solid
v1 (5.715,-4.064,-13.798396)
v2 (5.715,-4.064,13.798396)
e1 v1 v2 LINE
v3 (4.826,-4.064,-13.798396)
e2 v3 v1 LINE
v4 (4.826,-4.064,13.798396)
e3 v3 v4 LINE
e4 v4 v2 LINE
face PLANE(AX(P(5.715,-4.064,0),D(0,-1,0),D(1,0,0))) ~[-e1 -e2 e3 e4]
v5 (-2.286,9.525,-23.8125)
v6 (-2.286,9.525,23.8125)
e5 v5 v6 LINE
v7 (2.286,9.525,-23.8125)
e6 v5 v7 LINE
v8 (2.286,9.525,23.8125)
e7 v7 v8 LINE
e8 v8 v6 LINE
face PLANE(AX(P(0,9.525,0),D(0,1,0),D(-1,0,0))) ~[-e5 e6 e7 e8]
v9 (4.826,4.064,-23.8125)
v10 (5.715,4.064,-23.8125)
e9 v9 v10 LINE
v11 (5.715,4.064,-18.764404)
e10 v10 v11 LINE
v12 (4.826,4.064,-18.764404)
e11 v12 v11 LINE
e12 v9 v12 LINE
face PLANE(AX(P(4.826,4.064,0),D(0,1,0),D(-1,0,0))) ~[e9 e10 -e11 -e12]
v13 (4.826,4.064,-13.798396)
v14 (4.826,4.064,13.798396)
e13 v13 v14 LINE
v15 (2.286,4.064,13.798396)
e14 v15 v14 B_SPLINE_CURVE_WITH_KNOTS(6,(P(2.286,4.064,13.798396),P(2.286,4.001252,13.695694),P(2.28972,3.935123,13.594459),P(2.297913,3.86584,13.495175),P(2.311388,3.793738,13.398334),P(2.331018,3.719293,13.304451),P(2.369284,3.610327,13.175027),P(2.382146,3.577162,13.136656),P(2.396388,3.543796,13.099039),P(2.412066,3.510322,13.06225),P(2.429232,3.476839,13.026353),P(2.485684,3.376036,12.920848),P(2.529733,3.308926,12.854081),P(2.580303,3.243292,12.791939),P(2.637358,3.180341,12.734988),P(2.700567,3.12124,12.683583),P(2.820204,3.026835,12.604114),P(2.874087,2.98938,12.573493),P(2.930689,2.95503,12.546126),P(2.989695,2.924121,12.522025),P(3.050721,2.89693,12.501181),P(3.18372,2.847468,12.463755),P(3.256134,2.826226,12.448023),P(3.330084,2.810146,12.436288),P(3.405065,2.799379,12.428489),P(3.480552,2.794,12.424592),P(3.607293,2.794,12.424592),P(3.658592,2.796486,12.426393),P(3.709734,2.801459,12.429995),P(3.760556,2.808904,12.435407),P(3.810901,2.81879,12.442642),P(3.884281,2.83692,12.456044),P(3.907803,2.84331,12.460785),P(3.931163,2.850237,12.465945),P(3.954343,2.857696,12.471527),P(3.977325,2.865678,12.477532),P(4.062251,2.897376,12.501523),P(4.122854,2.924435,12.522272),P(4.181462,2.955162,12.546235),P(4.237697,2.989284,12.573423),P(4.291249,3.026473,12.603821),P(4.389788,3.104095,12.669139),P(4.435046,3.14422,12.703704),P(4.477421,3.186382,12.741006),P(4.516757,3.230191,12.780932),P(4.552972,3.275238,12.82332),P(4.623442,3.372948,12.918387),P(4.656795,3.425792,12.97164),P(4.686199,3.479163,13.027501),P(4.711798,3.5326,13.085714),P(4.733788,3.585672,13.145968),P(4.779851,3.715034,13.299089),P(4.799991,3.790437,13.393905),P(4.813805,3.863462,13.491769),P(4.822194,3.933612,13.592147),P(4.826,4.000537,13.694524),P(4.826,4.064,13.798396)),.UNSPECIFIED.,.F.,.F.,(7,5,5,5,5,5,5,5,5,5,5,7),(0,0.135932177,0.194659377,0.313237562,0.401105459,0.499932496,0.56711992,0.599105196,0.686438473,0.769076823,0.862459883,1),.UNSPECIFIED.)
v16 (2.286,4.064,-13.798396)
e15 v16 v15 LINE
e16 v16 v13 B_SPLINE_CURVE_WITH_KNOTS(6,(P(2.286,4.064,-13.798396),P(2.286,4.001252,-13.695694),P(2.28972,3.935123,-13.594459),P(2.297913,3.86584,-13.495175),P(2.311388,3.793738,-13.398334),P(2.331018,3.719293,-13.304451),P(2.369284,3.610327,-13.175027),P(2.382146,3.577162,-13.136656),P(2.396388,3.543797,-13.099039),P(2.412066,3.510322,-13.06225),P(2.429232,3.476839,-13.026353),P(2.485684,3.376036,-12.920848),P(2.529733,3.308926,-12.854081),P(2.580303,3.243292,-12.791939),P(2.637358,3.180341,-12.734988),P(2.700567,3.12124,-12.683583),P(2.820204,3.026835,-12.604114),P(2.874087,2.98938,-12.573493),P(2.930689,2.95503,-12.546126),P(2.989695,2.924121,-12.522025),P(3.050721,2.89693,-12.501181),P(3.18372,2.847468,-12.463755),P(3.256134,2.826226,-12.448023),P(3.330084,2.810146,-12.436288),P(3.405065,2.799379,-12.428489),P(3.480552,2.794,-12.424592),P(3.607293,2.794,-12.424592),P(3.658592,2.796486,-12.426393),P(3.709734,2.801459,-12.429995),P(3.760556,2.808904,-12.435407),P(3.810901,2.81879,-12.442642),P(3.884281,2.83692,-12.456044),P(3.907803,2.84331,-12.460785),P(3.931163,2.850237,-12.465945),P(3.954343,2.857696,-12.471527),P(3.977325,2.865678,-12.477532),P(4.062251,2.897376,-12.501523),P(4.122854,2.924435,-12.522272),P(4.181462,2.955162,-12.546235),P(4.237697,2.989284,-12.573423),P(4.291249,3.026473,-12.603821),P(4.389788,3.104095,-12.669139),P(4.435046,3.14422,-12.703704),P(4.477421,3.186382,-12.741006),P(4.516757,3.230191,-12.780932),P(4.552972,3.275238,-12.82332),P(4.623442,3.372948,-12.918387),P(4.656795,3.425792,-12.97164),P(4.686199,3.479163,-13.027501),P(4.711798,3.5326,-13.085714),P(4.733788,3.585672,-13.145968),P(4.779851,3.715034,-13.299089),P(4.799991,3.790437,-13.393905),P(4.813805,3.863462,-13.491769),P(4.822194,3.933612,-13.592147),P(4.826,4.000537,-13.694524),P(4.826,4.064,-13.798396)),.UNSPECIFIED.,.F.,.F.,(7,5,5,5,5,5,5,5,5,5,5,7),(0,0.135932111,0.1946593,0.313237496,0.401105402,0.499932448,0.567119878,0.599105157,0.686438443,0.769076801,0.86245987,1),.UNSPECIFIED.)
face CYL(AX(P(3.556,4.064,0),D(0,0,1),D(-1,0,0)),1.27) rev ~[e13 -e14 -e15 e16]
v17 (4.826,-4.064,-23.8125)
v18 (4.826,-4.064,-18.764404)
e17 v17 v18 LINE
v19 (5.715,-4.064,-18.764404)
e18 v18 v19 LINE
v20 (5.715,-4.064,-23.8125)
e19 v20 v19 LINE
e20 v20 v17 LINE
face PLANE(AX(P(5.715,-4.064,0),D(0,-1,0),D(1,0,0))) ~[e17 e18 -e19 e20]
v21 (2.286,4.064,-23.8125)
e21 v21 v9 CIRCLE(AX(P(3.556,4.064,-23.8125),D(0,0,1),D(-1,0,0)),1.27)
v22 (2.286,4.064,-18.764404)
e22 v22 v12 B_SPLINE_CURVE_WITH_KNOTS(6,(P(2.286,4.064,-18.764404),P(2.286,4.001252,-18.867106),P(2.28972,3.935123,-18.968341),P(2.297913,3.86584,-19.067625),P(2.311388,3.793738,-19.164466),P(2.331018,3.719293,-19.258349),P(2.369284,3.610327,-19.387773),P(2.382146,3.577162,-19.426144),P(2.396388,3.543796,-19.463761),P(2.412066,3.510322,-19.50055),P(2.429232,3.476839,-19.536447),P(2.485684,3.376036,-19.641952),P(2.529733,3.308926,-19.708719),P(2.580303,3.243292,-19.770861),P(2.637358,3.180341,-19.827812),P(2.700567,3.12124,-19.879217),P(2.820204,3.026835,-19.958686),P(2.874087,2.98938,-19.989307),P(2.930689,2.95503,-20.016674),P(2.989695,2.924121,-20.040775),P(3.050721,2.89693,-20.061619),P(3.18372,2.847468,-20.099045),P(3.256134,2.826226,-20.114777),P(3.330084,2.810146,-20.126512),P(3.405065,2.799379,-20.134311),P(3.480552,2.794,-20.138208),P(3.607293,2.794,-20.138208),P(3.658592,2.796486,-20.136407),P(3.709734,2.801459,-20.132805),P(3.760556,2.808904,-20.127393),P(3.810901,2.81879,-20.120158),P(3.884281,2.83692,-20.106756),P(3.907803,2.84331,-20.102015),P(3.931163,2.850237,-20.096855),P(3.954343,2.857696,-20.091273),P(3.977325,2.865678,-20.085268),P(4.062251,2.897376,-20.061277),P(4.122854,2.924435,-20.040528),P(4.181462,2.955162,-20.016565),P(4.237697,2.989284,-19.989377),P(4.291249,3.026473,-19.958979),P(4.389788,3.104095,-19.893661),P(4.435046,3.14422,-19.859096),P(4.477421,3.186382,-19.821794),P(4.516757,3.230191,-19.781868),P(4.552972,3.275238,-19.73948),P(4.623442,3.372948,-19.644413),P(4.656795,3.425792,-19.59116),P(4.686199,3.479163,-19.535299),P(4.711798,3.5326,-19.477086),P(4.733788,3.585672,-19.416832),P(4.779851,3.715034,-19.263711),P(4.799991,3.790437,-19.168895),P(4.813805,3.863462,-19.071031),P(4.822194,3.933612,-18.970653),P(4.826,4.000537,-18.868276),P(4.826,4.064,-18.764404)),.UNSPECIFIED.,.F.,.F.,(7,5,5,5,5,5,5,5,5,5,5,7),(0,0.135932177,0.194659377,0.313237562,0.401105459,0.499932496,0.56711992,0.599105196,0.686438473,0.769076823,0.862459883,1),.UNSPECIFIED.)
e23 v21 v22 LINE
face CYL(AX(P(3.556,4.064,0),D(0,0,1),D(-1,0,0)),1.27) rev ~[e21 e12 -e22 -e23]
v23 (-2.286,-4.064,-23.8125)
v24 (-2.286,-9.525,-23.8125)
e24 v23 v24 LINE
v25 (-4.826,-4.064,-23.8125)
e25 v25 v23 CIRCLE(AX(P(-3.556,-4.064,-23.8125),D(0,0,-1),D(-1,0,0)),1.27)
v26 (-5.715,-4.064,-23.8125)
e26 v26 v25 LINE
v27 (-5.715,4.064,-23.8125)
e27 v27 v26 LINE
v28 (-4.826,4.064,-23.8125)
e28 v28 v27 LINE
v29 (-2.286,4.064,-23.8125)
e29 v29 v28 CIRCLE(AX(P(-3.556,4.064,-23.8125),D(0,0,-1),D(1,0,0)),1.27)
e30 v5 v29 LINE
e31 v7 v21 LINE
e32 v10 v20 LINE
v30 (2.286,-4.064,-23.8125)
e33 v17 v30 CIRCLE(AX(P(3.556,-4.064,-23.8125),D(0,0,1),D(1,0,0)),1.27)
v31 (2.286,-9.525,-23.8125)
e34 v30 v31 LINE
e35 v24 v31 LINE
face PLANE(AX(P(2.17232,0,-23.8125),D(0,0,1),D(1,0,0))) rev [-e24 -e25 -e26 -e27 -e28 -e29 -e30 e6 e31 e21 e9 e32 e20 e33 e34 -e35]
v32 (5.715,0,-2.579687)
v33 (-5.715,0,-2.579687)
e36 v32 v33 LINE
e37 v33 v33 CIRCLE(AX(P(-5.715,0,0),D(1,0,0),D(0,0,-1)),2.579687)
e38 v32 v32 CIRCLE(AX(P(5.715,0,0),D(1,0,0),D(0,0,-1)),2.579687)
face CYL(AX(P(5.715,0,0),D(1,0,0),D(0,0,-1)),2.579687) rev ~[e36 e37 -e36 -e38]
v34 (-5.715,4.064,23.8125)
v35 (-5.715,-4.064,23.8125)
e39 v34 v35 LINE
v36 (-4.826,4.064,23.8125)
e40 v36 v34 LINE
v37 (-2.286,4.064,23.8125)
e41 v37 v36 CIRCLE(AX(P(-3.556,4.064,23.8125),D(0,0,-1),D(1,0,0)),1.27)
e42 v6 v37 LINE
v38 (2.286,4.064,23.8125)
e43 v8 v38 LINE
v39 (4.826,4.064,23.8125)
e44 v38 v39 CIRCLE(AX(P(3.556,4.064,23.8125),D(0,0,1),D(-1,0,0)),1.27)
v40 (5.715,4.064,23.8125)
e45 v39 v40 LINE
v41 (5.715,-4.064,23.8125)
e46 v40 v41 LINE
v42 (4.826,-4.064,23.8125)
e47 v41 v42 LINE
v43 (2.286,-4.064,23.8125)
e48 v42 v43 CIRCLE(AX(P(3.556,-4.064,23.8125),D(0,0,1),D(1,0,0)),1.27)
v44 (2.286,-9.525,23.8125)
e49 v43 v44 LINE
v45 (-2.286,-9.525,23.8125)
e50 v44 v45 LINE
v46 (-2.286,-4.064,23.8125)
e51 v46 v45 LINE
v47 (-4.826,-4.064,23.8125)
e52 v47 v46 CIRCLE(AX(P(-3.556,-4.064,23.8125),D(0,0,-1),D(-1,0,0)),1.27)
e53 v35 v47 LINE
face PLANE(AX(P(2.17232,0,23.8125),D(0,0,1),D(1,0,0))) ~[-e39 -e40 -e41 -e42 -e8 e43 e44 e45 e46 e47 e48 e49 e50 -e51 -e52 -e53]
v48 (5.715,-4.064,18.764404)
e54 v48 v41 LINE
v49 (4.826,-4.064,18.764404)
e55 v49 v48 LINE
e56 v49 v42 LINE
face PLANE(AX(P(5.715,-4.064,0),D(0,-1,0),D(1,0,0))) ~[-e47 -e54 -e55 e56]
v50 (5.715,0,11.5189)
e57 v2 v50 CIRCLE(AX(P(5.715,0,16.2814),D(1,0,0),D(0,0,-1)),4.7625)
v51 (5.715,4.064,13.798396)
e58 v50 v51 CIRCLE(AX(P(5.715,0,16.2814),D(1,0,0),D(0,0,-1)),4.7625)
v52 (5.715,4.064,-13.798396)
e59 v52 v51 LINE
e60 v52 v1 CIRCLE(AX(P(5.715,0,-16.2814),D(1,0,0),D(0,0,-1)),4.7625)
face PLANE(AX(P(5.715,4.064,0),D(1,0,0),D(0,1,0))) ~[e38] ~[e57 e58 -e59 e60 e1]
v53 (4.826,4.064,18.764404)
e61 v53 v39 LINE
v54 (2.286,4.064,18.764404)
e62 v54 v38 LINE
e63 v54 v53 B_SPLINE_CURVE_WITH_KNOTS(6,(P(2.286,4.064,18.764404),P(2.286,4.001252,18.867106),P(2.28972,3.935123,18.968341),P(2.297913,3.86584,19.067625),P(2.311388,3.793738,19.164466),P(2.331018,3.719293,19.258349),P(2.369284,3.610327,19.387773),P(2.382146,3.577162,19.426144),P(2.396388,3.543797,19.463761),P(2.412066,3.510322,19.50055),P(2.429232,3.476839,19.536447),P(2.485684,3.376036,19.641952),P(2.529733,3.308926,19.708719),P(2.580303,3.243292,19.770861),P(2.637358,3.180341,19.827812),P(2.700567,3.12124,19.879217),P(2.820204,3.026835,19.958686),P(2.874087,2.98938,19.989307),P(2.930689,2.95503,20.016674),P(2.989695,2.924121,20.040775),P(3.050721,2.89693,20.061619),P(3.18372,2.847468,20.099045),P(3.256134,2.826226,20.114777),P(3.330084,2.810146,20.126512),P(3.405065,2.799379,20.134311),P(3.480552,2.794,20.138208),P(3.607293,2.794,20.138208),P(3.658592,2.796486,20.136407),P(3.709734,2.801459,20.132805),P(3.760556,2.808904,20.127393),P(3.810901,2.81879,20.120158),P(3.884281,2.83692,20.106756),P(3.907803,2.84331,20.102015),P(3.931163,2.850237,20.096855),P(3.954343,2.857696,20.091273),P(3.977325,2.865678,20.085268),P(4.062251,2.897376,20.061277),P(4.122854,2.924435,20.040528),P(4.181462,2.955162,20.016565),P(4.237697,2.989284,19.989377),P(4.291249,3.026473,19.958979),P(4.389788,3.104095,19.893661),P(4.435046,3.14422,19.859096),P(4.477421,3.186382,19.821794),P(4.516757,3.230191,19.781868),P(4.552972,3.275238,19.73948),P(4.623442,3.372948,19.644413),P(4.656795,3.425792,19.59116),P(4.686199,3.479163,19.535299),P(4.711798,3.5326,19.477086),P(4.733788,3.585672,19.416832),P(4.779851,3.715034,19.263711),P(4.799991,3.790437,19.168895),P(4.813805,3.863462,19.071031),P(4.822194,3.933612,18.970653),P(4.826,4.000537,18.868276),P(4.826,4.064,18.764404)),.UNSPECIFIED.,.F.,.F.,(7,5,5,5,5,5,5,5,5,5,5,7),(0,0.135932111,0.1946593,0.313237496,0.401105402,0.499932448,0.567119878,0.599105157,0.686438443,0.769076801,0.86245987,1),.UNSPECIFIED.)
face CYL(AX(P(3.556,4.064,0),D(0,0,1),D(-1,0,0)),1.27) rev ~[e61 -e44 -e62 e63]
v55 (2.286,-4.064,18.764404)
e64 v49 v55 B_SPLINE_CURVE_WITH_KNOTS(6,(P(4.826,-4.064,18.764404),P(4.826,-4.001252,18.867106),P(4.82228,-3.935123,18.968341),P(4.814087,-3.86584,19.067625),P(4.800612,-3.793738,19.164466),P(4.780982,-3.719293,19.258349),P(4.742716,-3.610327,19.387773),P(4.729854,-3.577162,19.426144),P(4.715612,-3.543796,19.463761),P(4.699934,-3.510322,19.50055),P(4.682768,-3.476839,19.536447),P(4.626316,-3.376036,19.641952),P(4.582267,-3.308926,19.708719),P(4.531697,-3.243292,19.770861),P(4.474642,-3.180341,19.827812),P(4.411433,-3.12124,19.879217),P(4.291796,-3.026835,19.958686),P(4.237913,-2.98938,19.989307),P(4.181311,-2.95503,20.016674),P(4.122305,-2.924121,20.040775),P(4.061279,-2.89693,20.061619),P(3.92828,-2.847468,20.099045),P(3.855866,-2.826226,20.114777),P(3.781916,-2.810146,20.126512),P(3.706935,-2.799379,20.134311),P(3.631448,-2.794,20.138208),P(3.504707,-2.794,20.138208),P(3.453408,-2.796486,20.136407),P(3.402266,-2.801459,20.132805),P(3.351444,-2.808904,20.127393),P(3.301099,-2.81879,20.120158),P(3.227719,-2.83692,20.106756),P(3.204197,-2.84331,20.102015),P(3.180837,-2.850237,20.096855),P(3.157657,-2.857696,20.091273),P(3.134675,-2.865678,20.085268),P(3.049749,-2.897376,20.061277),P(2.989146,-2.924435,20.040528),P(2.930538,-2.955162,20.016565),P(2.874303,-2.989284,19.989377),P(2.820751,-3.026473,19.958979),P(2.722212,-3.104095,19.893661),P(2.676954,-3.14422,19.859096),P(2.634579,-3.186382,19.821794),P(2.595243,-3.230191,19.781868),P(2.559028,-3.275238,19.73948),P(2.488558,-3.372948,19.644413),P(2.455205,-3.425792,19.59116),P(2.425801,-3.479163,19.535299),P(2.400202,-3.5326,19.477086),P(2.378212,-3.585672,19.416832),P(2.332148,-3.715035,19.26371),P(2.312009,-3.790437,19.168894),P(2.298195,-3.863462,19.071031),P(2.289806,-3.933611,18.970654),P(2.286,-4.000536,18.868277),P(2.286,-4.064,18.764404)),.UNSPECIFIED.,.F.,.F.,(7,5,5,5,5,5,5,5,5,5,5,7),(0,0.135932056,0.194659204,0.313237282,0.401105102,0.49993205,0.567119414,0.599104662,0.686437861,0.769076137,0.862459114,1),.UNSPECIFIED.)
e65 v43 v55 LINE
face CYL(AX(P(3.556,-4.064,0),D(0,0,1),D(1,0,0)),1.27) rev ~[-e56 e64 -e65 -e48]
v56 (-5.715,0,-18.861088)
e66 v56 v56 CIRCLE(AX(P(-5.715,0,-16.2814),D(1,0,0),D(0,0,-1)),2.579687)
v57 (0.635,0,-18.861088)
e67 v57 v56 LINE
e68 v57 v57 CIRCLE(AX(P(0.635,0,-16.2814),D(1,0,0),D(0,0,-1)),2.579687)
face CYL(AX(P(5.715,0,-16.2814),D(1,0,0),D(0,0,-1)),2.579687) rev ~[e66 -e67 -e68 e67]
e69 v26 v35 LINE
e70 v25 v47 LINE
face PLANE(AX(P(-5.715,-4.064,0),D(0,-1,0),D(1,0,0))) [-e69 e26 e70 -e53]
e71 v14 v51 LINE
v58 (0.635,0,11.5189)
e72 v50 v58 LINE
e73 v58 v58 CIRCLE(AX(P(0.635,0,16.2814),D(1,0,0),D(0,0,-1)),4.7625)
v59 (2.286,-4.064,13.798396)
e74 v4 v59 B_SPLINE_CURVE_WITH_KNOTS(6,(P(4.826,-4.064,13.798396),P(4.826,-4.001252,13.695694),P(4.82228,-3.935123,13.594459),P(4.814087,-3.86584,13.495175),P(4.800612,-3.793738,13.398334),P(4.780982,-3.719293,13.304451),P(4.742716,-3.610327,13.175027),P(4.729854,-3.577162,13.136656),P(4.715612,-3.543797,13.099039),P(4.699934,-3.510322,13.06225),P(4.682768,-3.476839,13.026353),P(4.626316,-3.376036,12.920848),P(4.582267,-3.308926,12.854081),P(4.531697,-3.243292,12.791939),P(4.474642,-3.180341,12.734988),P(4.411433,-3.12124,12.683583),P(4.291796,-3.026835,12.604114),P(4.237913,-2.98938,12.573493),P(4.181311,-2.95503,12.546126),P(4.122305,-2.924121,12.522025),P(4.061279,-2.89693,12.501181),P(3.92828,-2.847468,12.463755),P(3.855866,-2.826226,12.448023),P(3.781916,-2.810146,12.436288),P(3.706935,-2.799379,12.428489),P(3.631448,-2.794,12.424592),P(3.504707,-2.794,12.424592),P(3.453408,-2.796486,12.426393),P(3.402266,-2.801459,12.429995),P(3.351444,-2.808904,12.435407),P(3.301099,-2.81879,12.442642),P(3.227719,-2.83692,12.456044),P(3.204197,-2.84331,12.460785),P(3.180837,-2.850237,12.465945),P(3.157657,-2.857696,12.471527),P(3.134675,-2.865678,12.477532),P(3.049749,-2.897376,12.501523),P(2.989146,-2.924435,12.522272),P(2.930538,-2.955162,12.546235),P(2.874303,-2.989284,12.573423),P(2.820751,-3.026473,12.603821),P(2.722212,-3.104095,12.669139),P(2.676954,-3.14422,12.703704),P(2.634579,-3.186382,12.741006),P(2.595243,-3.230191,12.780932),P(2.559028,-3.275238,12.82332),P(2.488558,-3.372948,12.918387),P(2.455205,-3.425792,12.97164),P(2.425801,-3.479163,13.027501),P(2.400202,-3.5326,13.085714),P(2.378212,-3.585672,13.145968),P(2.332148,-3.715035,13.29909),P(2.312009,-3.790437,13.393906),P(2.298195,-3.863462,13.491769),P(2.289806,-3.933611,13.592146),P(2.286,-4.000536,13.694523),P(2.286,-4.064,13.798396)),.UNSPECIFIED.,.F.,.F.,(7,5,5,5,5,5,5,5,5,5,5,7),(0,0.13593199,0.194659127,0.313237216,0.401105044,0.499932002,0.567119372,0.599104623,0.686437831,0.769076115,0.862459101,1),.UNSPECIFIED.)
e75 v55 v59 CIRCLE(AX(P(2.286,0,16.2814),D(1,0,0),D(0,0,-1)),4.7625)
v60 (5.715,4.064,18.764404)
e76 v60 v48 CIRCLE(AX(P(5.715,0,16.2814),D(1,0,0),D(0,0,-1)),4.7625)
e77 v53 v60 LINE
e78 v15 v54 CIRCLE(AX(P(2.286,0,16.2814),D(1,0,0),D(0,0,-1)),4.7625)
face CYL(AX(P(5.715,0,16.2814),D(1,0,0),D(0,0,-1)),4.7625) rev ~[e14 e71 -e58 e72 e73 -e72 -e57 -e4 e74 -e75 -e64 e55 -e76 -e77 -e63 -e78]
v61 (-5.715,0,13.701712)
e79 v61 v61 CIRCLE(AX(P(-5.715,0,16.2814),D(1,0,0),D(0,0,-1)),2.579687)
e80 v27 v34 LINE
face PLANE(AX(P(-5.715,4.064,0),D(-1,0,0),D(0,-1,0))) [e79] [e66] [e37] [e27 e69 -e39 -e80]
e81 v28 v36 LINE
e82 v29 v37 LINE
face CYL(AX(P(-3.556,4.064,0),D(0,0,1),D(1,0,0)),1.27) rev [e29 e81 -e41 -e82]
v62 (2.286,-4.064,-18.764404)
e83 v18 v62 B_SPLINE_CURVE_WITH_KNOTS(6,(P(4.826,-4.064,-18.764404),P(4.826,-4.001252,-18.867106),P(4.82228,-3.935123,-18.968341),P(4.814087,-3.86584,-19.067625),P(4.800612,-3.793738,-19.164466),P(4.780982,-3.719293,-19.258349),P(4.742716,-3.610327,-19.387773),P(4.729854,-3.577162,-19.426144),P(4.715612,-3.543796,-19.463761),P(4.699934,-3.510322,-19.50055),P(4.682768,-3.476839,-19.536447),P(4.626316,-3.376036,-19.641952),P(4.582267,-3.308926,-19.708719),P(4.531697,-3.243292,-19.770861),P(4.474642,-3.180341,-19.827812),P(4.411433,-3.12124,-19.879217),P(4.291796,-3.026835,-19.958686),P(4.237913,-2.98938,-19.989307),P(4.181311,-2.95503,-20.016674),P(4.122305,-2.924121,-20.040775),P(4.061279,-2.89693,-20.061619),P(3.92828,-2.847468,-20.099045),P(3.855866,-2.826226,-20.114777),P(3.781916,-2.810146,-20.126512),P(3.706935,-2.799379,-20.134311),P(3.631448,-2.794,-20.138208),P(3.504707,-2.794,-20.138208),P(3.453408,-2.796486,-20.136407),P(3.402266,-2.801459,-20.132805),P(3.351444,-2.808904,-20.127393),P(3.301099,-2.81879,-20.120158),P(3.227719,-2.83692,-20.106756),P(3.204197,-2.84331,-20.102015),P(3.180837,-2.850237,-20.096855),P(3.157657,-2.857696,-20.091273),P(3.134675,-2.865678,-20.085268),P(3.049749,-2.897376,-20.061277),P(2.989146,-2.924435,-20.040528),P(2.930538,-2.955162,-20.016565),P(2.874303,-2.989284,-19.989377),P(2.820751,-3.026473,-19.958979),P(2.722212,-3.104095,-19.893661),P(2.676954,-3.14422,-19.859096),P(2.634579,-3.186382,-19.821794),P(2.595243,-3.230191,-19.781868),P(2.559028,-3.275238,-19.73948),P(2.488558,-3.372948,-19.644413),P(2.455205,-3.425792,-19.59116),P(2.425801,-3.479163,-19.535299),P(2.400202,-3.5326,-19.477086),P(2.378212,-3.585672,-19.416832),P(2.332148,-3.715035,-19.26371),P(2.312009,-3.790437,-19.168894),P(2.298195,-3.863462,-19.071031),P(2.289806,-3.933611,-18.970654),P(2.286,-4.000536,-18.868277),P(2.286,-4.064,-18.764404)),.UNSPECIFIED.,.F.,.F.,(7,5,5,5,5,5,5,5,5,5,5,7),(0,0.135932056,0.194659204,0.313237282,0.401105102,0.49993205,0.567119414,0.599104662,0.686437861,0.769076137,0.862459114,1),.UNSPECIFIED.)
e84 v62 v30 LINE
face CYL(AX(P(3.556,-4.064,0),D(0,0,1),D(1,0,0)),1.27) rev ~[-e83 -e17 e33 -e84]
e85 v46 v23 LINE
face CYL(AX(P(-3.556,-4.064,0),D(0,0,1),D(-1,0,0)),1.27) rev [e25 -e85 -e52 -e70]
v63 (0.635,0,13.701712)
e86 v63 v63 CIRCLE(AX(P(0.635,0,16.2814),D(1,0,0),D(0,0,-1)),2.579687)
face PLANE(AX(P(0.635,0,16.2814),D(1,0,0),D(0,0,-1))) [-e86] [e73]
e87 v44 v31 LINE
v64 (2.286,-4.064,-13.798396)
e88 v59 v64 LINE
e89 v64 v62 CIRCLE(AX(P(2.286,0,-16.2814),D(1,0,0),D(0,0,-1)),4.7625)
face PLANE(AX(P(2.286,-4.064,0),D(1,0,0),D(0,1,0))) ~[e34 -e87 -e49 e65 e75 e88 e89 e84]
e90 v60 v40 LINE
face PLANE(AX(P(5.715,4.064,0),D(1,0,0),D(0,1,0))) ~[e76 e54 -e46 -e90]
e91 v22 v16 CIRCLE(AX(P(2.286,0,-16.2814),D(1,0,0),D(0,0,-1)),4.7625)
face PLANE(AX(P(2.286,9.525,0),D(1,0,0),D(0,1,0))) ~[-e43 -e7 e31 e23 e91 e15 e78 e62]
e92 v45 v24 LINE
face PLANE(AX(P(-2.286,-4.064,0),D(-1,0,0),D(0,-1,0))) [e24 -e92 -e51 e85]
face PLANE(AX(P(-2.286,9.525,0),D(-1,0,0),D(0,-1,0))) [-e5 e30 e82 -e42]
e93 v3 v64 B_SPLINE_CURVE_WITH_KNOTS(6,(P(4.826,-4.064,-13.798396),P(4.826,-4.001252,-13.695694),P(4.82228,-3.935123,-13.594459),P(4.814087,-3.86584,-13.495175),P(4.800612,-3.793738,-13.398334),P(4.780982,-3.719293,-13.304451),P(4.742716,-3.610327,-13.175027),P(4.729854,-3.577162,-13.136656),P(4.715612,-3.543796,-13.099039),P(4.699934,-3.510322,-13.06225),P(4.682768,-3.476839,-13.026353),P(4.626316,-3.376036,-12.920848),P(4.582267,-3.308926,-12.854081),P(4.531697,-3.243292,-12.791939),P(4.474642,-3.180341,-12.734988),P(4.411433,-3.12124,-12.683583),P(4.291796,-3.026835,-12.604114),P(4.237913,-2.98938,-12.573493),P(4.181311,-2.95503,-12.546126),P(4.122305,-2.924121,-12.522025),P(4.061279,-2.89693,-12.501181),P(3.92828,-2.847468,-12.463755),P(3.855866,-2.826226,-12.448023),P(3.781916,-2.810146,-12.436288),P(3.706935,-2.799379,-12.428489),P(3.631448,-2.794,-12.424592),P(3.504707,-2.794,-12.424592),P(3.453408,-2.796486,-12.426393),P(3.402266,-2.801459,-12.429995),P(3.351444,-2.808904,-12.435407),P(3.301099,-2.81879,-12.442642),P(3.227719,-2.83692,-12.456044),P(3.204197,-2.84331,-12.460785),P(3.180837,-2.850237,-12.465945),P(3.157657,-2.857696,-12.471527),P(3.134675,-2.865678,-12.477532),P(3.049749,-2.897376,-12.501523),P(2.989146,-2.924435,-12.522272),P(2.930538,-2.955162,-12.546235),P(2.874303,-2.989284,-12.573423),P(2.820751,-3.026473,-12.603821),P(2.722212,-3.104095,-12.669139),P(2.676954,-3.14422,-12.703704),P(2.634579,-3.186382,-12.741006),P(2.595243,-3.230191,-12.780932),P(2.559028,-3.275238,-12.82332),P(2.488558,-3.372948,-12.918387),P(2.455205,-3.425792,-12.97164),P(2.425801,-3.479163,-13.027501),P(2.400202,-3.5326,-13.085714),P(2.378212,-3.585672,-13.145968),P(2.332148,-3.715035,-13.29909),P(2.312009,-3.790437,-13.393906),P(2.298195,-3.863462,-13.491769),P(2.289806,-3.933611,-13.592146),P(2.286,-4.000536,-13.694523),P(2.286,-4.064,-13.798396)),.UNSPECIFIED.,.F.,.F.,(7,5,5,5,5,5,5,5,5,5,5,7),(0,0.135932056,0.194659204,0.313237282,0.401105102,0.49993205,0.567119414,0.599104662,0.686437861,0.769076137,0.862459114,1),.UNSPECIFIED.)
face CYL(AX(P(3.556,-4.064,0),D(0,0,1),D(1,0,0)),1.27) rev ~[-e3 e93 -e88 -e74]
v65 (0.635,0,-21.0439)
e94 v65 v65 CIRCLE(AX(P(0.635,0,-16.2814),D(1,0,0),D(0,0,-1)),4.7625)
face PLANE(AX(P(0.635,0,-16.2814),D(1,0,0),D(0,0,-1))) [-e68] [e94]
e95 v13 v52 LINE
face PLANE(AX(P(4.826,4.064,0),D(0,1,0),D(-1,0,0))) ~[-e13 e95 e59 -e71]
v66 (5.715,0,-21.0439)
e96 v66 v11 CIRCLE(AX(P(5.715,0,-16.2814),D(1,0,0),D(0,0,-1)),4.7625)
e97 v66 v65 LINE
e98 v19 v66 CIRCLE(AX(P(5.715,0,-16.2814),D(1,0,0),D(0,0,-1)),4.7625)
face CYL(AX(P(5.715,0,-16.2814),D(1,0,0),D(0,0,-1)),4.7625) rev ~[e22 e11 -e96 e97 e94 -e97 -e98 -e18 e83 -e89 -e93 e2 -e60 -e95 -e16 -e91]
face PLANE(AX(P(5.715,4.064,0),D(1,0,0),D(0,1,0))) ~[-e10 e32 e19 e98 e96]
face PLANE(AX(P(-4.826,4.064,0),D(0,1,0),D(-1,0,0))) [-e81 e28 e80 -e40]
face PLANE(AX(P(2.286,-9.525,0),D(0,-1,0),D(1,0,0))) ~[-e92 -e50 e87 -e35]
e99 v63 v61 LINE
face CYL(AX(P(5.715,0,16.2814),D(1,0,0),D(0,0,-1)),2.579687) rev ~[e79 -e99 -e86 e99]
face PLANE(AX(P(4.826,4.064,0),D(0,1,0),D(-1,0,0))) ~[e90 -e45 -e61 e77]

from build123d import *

# Parameters (mm, degrees)
BOSS_EXTRUDE1_DEPTH = 23.8125
SKETCH2_R           = 2.5796875
CUT_EXTRUDE1_DEPTH  = 12.43
SKETCH3_R           = 4.7625
CUT_EXTRUDE2_DEPTH  = 5.08


with BuildPart() as part:
    # Sketch1 → Boss-Extrude1 (new body, symmetric)
    with BuildSketch(Plane.XY):
        with BuildLine():
            Line((0, -9.525), (0, 9.525))
            Line((0, 9.525), (-2.286, 9.525))
            Line((-2.286, 9.525), (-2.286, 4.064))
            ThreePointArc((-2.286, 4.064), (-3.556, 2.794), (-4.826, 4.064))
            Line((-4.826, 4.064), (-5.715, 4.064))
            Line((-5.715, 4.064), (-5.715, -4.064))
            Line((-5.715, -4.064), (-4.826, -4.064))
            ThreePointArc((-4.826, -4.064), (-3.556, -2.794), (-2.286, -4.064))
            Line((-2.286, -4.064), (-2.286, -9.525))
            Line((-2.286, -9.525), (0, -9.525))
        make_face()
    boss_extrude1 = extrude(amount=BOSS_EXTRUDE1_DEPTH, both=True)

    # Mirror1: Boss-Extrude1 across plane
    add(boss_extrude1.mirror(Plane(origin=(0, -9.525, 23.8125), x_dir=(0, 0, 1), z_dir=(-1, 0, 0))))

    # Sketch2 → Cut-Extrude1 (cut, through all)
    with BuildSketch(Plane(origin=(5.715, 0, 0), x_dir=(0, 0, -1), z_dir=(1, 0, 0))):
        with Locations((-16.2814, 0)):
            Circle(SKETCH2_R)
        with Locations((16.2814, 0)):
            Circle(SKETCH2_R)
        Circle(SKETCH2_R)
    extrude(amount=-CUT_EXTRUDE1_DEPTH, mode=Mode.SUBTRACT)

    # Sketch3 → Cut-Extrude2 (cut)
    with BuildSketch(Plane(origin=(5.715, 0, 0), x_dir=(0, 0, -1), z_dir=(1, 0, 0))):
        with Locations((-16.2814, 0)):
            Circle(SKETCH3_R)
        with Locations((16.2814, 0)):
            Circle(SKETCH3_R)
    extrude(amount=-CUT_EXTRUDE2_DEPTH, mode=Mode.SUBTRACT)


solid = part.part
